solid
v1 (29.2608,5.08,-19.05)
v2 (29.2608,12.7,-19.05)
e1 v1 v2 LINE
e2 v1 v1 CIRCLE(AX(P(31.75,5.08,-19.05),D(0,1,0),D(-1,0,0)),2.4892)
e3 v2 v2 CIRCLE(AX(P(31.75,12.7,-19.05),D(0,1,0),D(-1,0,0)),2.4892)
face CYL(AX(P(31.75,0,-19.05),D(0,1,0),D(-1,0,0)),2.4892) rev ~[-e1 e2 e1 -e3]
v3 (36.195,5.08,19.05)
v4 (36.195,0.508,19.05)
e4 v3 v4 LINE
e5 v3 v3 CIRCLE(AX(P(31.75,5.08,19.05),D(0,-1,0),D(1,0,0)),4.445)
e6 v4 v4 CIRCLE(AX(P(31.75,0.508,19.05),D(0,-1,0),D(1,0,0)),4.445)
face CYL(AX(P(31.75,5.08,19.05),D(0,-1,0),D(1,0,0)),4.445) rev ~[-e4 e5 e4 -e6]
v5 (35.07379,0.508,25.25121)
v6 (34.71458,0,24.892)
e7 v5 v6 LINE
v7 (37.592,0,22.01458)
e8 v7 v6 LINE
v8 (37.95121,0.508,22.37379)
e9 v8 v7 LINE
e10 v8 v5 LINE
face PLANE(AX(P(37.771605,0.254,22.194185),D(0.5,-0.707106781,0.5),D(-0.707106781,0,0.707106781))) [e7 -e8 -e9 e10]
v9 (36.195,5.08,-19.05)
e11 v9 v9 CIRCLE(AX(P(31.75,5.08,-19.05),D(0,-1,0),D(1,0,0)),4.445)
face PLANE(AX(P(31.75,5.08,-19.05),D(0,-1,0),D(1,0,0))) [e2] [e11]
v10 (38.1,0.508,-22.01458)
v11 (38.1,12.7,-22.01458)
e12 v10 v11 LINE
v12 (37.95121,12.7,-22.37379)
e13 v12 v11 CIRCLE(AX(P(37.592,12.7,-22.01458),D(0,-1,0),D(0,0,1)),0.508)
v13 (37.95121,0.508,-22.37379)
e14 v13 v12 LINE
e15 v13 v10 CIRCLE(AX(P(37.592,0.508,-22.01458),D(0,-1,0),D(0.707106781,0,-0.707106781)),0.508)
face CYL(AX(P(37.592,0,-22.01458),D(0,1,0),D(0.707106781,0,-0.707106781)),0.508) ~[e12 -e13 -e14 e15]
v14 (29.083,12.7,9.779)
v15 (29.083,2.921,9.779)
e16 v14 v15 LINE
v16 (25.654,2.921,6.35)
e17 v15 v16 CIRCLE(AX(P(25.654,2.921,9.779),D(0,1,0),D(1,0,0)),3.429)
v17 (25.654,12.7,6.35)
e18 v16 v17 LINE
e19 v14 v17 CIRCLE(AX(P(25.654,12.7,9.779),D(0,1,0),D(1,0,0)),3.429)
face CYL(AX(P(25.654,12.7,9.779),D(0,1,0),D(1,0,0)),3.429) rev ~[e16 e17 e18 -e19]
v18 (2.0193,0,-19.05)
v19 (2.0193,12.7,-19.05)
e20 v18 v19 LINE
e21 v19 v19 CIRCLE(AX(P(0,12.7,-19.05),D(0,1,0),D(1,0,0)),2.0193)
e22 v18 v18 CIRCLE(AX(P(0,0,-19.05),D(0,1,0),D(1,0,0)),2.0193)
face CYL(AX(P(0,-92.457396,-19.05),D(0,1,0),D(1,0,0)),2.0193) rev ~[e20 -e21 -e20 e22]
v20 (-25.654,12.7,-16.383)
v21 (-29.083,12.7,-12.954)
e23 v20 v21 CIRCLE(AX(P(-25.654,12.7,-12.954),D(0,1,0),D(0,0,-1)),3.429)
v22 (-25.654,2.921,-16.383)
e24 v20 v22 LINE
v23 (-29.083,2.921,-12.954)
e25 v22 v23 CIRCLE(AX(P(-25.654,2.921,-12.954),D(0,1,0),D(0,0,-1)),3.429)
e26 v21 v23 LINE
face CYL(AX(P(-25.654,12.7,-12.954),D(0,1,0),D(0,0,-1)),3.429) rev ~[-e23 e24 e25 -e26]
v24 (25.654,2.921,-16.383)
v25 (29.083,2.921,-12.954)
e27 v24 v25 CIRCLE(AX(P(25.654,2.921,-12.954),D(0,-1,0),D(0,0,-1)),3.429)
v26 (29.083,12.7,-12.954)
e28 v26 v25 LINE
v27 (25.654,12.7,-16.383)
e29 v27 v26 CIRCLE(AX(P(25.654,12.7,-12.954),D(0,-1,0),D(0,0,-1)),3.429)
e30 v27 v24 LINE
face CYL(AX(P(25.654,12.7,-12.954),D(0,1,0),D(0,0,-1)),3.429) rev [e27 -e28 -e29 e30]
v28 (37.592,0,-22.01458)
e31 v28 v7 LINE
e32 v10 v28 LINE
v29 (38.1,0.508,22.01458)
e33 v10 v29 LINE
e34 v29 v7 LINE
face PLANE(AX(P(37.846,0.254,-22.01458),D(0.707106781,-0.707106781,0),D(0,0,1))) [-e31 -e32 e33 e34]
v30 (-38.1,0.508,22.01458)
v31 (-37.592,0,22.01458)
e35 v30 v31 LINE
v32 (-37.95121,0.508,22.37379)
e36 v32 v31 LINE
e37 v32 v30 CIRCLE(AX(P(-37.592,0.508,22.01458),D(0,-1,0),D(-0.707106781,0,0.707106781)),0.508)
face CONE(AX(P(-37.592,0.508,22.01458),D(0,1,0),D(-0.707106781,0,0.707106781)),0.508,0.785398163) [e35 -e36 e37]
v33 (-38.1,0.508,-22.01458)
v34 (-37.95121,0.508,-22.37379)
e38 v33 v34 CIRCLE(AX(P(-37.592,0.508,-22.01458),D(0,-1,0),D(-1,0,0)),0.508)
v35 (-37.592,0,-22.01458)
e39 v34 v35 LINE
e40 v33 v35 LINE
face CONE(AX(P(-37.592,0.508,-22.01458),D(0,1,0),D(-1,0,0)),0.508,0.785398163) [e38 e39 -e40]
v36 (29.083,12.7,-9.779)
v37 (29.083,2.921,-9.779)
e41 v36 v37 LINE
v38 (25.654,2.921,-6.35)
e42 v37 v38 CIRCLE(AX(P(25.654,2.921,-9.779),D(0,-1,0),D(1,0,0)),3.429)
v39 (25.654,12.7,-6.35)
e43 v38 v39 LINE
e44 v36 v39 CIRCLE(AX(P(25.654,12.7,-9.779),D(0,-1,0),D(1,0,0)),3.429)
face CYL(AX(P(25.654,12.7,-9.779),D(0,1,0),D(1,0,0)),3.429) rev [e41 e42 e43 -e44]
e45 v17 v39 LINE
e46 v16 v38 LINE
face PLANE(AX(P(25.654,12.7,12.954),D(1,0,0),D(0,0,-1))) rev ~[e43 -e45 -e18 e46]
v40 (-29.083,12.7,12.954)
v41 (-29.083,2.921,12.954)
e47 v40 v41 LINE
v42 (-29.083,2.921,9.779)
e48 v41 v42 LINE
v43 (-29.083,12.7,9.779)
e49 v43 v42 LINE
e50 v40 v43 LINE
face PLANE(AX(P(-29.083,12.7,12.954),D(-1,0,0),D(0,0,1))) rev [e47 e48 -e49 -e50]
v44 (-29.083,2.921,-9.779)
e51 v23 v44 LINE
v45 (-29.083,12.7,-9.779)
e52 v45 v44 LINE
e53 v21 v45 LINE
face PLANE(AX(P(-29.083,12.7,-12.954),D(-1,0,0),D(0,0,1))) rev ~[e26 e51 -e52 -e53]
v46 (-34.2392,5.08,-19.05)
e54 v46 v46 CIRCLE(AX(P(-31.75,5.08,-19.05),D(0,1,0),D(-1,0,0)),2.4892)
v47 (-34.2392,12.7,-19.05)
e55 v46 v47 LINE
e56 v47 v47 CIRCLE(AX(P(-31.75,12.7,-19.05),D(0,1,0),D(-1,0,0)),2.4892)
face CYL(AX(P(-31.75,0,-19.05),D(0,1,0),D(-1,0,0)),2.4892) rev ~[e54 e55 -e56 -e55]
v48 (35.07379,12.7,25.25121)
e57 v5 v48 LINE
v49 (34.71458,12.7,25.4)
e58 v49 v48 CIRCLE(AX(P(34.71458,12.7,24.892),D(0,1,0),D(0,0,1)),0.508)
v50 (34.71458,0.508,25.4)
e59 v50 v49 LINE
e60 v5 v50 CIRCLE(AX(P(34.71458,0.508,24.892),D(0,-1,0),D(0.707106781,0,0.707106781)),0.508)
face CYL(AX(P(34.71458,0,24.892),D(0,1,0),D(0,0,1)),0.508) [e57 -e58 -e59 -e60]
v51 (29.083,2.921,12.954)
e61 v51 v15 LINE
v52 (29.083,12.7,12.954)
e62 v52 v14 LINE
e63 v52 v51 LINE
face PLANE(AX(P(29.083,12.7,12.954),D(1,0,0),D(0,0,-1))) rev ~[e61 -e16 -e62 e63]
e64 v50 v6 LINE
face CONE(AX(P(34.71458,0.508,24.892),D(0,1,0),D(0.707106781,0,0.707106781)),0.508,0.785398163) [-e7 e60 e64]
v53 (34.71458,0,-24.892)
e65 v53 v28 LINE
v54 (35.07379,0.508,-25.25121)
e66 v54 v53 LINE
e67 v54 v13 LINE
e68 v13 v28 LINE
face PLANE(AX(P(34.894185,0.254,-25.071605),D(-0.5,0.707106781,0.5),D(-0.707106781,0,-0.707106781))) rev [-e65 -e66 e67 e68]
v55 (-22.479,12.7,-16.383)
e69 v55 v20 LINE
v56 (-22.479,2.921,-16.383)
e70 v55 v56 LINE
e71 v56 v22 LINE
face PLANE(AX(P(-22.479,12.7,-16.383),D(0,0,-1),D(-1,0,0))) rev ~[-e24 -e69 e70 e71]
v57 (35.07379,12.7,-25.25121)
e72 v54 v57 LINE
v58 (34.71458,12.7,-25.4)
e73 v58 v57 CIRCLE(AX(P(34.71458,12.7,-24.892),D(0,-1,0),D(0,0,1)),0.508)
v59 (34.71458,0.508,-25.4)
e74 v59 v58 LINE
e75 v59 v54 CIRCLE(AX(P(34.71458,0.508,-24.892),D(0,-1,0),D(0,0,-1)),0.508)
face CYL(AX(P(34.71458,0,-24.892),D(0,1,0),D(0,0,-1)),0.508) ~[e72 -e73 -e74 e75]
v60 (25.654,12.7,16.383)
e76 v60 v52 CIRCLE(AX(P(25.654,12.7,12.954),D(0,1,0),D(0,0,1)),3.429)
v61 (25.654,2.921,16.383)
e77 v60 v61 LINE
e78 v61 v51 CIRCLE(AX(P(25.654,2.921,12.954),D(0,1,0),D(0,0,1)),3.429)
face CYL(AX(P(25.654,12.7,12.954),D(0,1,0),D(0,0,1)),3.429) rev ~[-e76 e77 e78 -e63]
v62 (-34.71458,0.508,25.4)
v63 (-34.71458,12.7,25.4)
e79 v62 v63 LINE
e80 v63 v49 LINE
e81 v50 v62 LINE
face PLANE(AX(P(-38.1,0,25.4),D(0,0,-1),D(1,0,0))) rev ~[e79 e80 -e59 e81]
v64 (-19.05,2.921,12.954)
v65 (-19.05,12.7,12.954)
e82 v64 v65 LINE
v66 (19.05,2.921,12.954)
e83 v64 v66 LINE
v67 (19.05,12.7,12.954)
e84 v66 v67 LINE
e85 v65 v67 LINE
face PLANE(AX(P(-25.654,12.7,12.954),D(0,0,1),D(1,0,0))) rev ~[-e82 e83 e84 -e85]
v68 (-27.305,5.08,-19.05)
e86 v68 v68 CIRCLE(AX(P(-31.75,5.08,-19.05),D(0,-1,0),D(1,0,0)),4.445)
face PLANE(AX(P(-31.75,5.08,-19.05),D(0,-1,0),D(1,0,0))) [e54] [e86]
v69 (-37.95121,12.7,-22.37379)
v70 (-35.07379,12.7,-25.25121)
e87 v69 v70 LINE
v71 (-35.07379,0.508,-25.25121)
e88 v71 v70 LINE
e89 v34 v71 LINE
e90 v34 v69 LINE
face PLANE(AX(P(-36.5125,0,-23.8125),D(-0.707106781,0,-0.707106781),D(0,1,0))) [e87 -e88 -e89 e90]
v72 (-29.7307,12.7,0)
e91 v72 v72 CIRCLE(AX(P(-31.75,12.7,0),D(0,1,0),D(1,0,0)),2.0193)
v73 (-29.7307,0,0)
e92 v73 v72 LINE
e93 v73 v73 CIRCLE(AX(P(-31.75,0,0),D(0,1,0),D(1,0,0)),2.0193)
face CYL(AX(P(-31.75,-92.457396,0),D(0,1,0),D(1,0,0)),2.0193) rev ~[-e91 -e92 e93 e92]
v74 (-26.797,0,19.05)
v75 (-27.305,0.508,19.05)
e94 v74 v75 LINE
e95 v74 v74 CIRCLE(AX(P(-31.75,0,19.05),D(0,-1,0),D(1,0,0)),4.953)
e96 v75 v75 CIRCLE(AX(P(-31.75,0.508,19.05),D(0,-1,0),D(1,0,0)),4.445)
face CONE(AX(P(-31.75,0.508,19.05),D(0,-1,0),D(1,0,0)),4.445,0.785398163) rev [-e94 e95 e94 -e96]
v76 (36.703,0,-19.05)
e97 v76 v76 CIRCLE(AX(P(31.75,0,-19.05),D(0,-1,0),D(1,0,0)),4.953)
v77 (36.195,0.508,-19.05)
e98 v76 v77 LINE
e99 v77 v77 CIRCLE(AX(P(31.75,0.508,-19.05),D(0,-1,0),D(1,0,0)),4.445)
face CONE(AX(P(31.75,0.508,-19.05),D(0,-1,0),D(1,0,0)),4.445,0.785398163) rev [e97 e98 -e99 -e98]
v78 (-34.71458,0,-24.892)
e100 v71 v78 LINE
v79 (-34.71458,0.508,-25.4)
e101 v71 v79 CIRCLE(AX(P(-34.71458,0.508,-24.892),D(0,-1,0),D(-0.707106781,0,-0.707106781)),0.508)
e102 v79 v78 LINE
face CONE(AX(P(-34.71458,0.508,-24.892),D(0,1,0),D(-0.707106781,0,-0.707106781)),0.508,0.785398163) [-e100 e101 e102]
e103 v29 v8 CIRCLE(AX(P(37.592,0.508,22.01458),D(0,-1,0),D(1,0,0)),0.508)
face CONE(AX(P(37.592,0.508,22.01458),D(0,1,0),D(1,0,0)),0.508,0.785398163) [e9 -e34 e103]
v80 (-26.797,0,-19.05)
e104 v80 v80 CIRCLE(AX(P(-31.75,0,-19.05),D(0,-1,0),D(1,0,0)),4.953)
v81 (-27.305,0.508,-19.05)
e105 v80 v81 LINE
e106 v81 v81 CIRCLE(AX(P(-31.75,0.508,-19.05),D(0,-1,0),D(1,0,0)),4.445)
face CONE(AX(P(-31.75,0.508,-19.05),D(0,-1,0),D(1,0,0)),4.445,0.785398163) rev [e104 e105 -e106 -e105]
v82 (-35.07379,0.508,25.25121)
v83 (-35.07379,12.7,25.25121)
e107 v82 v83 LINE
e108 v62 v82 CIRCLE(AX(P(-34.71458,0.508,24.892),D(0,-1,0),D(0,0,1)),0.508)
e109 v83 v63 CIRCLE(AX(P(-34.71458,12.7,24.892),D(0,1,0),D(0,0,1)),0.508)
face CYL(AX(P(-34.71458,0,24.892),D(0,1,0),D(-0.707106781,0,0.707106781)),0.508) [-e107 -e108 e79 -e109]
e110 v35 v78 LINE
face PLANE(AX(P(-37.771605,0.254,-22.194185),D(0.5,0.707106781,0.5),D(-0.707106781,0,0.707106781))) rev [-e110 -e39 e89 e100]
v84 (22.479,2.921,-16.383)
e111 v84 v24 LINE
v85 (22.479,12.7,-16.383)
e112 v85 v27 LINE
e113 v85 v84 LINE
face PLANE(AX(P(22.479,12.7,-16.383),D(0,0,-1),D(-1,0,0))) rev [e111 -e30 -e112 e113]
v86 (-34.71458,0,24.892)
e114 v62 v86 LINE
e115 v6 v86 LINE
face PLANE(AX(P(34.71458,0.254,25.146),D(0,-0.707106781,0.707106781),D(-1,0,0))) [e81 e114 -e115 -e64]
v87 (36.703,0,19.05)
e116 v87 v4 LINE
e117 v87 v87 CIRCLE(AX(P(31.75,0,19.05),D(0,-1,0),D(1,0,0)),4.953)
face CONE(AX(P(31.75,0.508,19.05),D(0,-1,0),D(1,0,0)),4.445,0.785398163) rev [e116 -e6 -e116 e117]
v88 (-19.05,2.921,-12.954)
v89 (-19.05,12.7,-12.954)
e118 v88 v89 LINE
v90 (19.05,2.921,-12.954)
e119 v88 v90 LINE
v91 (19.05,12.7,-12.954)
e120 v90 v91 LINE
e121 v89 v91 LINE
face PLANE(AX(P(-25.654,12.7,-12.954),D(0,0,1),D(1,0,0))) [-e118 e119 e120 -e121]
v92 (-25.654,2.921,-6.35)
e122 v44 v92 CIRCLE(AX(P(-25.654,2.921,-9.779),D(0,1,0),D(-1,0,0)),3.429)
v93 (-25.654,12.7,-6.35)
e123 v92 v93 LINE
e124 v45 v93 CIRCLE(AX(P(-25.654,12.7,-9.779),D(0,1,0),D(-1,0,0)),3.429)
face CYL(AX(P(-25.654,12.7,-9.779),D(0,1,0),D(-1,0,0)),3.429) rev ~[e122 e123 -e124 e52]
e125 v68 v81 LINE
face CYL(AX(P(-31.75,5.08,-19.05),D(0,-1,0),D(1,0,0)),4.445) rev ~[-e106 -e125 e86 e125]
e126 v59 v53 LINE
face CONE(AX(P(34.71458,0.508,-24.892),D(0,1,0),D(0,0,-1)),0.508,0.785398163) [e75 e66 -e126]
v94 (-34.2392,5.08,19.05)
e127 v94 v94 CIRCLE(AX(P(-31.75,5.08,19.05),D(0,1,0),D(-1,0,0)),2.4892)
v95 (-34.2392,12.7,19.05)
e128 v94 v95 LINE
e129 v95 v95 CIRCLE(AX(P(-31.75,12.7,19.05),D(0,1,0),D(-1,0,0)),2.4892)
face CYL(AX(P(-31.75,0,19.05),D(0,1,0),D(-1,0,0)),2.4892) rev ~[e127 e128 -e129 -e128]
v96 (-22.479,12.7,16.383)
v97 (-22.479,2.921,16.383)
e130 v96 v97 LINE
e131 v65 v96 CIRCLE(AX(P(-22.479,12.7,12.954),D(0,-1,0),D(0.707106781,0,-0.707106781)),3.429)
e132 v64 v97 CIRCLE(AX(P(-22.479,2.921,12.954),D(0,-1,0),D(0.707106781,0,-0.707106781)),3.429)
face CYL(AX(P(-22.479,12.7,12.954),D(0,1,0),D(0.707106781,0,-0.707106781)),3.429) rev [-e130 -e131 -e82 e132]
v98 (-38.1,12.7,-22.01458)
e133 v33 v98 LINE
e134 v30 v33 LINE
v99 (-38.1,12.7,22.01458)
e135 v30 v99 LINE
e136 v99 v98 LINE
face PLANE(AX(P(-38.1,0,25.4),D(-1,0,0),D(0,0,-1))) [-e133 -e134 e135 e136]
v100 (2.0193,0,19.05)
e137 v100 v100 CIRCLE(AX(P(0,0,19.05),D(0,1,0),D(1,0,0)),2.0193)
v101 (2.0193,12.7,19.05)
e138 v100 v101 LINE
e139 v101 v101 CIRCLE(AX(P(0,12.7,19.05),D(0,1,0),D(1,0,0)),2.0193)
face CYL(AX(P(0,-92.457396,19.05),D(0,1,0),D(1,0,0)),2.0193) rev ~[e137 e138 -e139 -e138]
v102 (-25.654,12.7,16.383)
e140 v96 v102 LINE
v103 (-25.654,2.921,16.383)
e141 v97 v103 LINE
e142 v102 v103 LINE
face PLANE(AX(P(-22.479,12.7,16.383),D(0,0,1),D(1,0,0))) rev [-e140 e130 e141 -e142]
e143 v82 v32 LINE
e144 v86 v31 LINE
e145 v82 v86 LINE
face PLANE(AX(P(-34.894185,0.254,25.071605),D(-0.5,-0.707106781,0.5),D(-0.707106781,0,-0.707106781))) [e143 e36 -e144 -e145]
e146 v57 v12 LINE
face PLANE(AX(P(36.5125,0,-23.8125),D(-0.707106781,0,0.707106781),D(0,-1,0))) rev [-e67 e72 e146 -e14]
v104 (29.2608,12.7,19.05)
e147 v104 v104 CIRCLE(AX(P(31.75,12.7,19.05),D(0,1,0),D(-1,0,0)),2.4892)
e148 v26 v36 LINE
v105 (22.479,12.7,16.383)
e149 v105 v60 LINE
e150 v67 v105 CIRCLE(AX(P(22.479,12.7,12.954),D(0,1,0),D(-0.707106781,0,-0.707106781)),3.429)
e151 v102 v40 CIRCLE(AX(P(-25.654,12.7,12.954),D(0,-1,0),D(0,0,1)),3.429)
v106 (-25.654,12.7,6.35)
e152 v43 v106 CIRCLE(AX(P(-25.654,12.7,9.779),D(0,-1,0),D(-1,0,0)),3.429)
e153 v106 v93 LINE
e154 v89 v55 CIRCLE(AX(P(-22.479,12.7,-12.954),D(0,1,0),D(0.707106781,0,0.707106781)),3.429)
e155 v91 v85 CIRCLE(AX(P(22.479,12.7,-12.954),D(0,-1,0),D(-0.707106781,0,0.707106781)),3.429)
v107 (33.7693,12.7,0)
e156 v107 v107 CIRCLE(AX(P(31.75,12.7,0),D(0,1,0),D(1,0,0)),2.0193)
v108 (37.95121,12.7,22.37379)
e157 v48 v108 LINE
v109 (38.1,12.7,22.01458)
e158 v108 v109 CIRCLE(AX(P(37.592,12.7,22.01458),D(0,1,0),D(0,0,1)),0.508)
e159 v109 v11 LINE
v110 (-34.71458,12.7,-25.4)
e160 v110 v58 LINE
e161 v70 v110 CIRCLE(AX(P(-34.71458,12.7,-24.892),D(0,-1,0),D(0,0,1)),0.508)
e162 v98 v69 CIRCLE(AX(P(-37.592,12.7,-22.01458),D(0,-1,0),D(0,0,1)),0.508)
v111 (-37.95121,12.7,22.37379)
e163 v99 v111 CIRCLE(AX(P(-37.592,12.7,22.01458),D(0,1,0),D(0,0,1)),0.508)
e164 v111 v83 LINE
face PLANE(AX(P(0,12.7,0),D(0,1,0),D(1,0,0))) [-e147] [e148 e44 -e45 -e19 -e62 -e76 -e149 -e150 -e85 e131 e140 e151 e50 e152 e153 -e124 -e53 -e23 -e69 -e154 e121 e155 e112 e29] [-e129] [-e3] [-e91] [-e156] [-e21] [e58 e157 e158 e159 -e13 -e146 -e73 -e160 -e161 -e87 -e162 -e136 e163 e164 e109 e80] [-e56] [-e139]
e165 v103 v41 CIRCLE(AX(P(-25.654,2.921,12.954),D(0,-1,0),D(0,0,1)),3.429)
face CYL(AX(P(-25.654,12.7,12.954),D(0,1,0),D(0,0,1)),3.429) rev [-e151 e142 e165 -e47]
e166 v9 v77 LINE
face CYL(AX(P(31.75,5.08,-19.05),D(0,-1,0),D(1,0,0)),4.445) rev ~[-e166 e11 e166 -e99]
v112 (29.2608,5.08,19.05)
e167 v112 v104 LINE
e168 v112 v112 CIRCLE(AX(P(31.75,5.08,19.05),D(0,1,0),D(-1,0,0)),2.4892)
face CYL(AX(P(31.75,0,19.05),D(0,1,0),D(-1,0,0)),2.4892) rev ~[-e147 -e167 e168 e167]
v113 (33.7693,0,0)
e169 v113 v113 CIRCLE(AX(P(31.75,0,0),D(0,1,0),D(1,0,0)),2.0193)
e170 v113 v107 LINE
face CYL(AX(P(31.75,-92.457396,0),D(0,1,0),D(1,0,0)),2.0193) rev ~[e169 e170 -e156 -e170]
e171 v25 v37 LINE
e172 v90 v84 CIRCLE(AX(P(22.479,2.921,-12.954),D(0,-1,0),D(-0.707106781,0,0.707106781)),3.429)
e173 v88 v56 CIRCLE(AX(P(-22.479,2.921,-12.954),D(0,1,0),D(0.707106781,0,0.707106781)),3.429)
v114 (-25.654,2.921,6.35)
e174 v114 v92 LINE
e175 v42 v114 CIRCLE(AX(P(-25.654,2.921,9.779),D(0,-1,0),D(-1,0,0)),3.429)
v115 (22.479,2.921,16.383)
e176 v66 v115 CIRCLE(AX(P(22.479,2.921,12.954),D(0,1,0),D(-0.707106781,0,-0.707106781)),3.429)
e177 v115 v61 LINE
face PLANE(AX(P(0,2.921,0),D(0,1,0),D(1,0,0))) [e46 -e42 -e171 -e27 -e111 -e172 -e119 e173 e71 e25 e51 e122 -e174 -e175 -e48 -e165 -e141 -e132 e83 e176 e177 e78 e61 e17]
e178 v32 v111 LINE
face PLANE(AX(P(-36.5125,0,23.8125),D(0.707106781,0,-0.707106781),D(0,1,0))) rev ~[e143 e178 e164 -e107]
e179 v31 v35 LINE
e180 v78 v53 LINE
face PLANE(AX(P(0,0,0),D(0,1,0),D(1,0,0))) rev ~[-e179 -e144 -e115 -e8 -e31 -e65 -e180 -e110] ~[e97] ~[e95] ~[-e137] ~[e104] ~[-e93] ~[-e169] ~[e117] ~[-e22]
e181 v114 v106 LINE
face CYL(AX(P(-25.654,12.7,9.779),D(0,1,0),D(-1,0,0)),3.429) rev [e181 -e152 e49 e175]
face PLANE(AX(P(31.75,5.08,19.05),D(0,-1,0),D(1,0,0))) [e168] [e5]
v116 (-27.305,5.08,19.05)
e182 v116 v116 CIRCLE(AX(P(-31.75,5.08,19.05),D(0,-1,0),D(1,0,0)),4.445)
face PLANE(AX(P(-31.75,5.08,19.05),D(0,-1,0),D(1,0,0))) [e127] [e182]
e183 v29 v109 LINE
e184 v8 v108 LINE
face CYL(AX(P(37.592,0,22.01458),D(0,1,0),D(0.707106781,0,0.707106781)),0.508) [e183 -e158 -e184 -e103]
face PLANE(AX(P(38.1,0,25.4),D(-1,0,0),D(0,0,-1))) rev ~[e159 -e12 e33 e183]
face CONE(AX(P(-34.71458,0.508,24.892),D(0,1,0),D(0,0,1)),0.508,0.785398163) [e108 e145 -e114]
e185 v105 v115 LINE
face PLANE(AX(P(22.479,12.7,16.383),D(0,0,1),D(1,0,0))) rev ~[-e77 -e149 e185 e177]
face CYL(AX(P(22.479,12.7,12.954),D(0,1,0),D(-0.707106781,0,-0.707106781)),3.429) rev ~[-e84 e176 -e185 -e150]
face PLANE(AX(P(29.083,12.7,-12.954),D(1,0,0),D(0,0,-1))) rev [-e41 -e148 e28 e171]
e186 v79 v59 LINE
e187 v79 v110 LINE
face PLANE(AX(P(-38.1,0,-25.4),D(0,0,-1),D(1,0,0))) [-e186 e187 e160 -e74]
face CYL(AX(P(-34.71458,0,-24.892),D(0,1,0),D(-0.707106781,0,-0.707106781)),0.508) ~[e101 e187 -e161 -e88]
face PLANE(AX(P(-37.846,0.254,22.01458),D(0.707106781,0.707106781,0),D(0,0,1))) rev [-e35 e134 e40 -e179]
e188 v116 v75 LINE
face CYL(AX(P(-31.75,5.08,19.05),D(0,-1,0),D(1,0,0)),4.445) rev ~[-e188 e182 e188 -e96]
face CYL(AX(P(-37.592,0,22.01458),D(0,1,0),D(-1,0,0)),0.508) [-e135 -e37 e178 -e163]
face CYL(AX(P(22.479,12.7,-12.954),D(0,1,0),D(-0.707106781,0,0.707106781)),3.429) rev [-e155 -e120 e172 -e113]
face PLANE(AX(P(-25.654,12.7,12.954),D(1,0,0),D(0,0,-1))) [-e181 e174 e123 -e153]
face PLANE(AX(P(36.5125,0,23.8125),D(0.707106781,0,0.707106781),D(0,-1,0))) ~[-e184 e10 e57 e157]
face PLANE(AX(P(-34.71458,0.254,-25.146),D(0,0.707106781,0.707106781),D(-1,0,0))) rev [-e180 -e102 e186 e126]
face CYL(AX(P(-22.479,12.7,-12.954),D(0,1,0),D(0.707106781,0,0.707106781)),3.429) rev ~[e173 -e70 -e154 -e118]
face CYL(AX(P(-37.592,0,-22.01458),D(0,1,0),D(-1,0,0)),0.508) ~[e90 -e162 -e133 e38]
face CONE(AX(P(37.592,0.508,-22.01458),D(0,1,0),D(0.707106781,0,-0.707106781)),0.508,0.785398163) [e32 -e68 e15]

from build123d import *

# Parameters (mm, degrees)
SKETCH1_W                                      = 76.2
SKETCH1_H                                      = 50.8
BOSS_EXTRUDE1_DEPTH                            = 12.7
SKETCH2_W                                      = 51.308
SKETCH2_H                                      = 25.908
CUT_EXTRUDE1_DEPTH                             = 9.779
CUT_EXTRUDE2_DEPTH                             = 9.779
MIRROR2_COPY_1_DEPTH                           = 9.779
CBORE_FOR_10_SOCKET_HEAD_CAP_SCREW_D           = 4.9784
CBORE_FOR_10_SOCKET_HEAD_CAP_SCREW_CBORE_D     = 8.89
CBORE_FOR_10_SOCKET_HEAD_CAP_SCREW_CBORE_DEPTH = 5.08
CHAMFER1_SIZE                                  = 3.175
FILLET1_R                                      = 0.508
CHAMFER2_SIZE                                  = 0.508
F_10_32_TAPPED_HOLE1_D                         = 4.0386
CHAMFER3_SIZE                                  = 0.508


with BuildPart() as part:
    # Sketch1 → Boss-Extrude1 (new body)
    with BuildSketch(Plane(origin=(0, 0, 0), x_dir=(1, 0, 0), z_dir=(0, 1, 0))):
        Rectangle(SKETCH1_W, SKETCH1_H)
    extrude(amount=BOSS_EXTRUDE1_DEPTH)

    # Sketch2 → Cut-Extrude1 (cut)
    with BuildSketch(Plane(origin=(0, 12.7, 0), x_dir=(1, 0, 0), z_dir=(0, 1, 0))):
        Rectangle(SKETCH2_W, SKETCH2_H)
    extrude(amount=-CUT_EXTRUDE1_DEPTH, mode=Mode.SUBTRACT)

    # Sketch3 → Cut-Extrude2 (cut)
    with BuildSketch(Plane(origin=(0, 12.7, 0), x_dir=(1, 0, 0), z_dir=(0, 1, 0))):
        with BuildLine():
            Line((-22.479, 16.383), (-25.654, 16.383))
            ThreePointArc((-25.654, 16.383), (-28.078669153, 15.378669153), (-29.083, 12.954))
            Line((-29.083, 12.954), (-29.083, 9.779))
            ThreePointArc((-29.083, 9.779), (-26.96622149, 6.611017083), (-23.229330847, 7.354330847))
            Line((-23.229330847, 7.354330847), (-20.054330847, 10.529330847))
            ThreePointArc((-20.054330847, 10.529330847), (-19.311017083, 14.26622149), (-22.479, 16.383))
        make_face()
    cut_extrude2 = extrude(amount=-CUT_EXTRUDE2_DEPTH, mode=Mode.SUBTRACT)

    # Mirror1: Cut-Extrude2 across plane
    add(cut_extrude2.mirror(Plane.XY), mode=Mode.SUBTRACT)

    # Mirror2: Cut-Extrude2 across plane
    add(cut_extrude2.mirror(Plane(origin=(0, 0, 0), x_dir=(0, 0, 1), z_dir=(1, 0, 0))), mode=Mode.SUBTRACT)

    # Mirror2 copy 1 sketch → Mirror2 copy 1 (cut)
    with BuildSketch(Plane(origin=(0, 12.7, 0), x_dir=(-1, 0, 0), z_dir=(0, 1, 0))):
        with BuildLine():
            Line((-22.479, 16.383), (-25.654, 16.383))
            ThreePointArc((-25.654, 16.383), (-28.078669153, 15.378669153), (-29.083, 12.954))
            Line((-29.083, 12.954), (-29.083, 9.779))
            ThreePointArc((-29.083, 9.779), (-26.96622149, 6.611017083), (-23.229330847, 7.354330847))
            Line((-23.229330847, 7.354330847), (-20.054330847, 10.529330847))
            ThreePointArc((-20.054330847, 10.529330847), (-19.311017083, 14.26622149), (-22.479, 16.383))
        make_face()
    extrude(amount=-MIRROR2_COPY_1_DEPTH, mode=Mode.SUBTRACT)

    # CBORE for #10 Socket Head Cap Screw (through all)
    with Locations(Plane(origin=(-13.395092078, 0, 69.634435184), x_dir=(1, 0, 0), z_dir=(0, -1, 0))):
        with Locations((-18.354907922, -50.584435184), (45.145092078, -50.584435184), (45.145092078, -88.684435184), (-18.354907922, -88.684435184)):
            CounterBoreHole(CBORE_FOR_10_SOCKET_HEAD_CAP_SCREW_D / 2, CBORE_FOR_10_SOCKET_HEAD_CAP_SCREW_CBORE_D / 2, CBORE_FOR_10_SOCKET_HEAD_CAP_SCREW_CBORE_DEPTH)

    # Chamfer1
    chamfer1_edges = [part.edges().sort_by_distance(p)[0] for p in [
        (38.1, 6.35, 25.4),
        (-38.1, 6.35, 25.4),
        (-38.1, 6.35, -25.4),
        (38.1, 6.35, -25.4),
    ]]
    chamfer(chamfer1_edges, length=CHAMFER1_SIZE)

    # Fillet1
    fillet1_edges = [part.edges().sort_by_distance(p)[0] for p in [
        (38.1, 6.35, -22.225),
        (38.1, 6.35, 22.225),
        (-34.925, 6.35, 25.4),
        (34.925, 6.35, 25.4),
        (-34.925, 6.35, -25.4),
        (34.925, 6.35, -25.4),
        (-38.1, 6.35, -22.225),
        (-38.1, 6.35, 22.225),
    ]]
    fillet(fillet1_edges, radius=FILLET1_R)

    # Chamfer2
    chamfer2_edges = [part.edges().sort_by_distance(p)[0] for p in [
        (-38.1, 0, 0),
        (38.1, 0, 0),
        (36.5125, 0, 23.8125),
        (0, 0, 25.4),
        (-36.5125, 0, 23.8125),
        (-36.5125, 0, -23.8125),
        (0, 0, -25.4),
        (36.5125, 0, -23.8125),
        (-34.908982694, 0, 25.361330803),
        (-38.061330803, 0, 22.208982694),
        (34.908982694, 0, 25.361330803),
        (38.061330803, 0, 22.208982694),
        (38.061330803, 0, -22.208982694),
        (34.908982694, 0, -25.361330803),
        (-34.908982694, 0, -25.361330803),
        (-38.061330803, 0, -22.208982694),
    ]]
    chamfer(chamfer2_edges, length=CHAMFER2_SIZE)

    # #10-32 Tapped Hole1 (through all)
    with Locations(Plane(origin=(0, 0, 0), x_dir=(-1, 0, 0), z_dir=(0, -1, 0))):
        with Locations((-31.75, 0), (31.75, 0), (0, 19.05), (0, -19.05)):
            Hole(F_10_32_TAPPED_HOLE1_D / 2)

    # Chamfer3
    chamfer3_edges = [part.edges().sort_by_distance(p)[0] for p in [
        (-36.195, 0, -19.05),
        (27.305, 0, -19.05),
        (27.305, 0, 19.05),
        (-36.195, 0, 19.05),
    ]]
    chamfer(chamfer3_edges, length=CHAMFER3_SIZE)


solid = part.part
